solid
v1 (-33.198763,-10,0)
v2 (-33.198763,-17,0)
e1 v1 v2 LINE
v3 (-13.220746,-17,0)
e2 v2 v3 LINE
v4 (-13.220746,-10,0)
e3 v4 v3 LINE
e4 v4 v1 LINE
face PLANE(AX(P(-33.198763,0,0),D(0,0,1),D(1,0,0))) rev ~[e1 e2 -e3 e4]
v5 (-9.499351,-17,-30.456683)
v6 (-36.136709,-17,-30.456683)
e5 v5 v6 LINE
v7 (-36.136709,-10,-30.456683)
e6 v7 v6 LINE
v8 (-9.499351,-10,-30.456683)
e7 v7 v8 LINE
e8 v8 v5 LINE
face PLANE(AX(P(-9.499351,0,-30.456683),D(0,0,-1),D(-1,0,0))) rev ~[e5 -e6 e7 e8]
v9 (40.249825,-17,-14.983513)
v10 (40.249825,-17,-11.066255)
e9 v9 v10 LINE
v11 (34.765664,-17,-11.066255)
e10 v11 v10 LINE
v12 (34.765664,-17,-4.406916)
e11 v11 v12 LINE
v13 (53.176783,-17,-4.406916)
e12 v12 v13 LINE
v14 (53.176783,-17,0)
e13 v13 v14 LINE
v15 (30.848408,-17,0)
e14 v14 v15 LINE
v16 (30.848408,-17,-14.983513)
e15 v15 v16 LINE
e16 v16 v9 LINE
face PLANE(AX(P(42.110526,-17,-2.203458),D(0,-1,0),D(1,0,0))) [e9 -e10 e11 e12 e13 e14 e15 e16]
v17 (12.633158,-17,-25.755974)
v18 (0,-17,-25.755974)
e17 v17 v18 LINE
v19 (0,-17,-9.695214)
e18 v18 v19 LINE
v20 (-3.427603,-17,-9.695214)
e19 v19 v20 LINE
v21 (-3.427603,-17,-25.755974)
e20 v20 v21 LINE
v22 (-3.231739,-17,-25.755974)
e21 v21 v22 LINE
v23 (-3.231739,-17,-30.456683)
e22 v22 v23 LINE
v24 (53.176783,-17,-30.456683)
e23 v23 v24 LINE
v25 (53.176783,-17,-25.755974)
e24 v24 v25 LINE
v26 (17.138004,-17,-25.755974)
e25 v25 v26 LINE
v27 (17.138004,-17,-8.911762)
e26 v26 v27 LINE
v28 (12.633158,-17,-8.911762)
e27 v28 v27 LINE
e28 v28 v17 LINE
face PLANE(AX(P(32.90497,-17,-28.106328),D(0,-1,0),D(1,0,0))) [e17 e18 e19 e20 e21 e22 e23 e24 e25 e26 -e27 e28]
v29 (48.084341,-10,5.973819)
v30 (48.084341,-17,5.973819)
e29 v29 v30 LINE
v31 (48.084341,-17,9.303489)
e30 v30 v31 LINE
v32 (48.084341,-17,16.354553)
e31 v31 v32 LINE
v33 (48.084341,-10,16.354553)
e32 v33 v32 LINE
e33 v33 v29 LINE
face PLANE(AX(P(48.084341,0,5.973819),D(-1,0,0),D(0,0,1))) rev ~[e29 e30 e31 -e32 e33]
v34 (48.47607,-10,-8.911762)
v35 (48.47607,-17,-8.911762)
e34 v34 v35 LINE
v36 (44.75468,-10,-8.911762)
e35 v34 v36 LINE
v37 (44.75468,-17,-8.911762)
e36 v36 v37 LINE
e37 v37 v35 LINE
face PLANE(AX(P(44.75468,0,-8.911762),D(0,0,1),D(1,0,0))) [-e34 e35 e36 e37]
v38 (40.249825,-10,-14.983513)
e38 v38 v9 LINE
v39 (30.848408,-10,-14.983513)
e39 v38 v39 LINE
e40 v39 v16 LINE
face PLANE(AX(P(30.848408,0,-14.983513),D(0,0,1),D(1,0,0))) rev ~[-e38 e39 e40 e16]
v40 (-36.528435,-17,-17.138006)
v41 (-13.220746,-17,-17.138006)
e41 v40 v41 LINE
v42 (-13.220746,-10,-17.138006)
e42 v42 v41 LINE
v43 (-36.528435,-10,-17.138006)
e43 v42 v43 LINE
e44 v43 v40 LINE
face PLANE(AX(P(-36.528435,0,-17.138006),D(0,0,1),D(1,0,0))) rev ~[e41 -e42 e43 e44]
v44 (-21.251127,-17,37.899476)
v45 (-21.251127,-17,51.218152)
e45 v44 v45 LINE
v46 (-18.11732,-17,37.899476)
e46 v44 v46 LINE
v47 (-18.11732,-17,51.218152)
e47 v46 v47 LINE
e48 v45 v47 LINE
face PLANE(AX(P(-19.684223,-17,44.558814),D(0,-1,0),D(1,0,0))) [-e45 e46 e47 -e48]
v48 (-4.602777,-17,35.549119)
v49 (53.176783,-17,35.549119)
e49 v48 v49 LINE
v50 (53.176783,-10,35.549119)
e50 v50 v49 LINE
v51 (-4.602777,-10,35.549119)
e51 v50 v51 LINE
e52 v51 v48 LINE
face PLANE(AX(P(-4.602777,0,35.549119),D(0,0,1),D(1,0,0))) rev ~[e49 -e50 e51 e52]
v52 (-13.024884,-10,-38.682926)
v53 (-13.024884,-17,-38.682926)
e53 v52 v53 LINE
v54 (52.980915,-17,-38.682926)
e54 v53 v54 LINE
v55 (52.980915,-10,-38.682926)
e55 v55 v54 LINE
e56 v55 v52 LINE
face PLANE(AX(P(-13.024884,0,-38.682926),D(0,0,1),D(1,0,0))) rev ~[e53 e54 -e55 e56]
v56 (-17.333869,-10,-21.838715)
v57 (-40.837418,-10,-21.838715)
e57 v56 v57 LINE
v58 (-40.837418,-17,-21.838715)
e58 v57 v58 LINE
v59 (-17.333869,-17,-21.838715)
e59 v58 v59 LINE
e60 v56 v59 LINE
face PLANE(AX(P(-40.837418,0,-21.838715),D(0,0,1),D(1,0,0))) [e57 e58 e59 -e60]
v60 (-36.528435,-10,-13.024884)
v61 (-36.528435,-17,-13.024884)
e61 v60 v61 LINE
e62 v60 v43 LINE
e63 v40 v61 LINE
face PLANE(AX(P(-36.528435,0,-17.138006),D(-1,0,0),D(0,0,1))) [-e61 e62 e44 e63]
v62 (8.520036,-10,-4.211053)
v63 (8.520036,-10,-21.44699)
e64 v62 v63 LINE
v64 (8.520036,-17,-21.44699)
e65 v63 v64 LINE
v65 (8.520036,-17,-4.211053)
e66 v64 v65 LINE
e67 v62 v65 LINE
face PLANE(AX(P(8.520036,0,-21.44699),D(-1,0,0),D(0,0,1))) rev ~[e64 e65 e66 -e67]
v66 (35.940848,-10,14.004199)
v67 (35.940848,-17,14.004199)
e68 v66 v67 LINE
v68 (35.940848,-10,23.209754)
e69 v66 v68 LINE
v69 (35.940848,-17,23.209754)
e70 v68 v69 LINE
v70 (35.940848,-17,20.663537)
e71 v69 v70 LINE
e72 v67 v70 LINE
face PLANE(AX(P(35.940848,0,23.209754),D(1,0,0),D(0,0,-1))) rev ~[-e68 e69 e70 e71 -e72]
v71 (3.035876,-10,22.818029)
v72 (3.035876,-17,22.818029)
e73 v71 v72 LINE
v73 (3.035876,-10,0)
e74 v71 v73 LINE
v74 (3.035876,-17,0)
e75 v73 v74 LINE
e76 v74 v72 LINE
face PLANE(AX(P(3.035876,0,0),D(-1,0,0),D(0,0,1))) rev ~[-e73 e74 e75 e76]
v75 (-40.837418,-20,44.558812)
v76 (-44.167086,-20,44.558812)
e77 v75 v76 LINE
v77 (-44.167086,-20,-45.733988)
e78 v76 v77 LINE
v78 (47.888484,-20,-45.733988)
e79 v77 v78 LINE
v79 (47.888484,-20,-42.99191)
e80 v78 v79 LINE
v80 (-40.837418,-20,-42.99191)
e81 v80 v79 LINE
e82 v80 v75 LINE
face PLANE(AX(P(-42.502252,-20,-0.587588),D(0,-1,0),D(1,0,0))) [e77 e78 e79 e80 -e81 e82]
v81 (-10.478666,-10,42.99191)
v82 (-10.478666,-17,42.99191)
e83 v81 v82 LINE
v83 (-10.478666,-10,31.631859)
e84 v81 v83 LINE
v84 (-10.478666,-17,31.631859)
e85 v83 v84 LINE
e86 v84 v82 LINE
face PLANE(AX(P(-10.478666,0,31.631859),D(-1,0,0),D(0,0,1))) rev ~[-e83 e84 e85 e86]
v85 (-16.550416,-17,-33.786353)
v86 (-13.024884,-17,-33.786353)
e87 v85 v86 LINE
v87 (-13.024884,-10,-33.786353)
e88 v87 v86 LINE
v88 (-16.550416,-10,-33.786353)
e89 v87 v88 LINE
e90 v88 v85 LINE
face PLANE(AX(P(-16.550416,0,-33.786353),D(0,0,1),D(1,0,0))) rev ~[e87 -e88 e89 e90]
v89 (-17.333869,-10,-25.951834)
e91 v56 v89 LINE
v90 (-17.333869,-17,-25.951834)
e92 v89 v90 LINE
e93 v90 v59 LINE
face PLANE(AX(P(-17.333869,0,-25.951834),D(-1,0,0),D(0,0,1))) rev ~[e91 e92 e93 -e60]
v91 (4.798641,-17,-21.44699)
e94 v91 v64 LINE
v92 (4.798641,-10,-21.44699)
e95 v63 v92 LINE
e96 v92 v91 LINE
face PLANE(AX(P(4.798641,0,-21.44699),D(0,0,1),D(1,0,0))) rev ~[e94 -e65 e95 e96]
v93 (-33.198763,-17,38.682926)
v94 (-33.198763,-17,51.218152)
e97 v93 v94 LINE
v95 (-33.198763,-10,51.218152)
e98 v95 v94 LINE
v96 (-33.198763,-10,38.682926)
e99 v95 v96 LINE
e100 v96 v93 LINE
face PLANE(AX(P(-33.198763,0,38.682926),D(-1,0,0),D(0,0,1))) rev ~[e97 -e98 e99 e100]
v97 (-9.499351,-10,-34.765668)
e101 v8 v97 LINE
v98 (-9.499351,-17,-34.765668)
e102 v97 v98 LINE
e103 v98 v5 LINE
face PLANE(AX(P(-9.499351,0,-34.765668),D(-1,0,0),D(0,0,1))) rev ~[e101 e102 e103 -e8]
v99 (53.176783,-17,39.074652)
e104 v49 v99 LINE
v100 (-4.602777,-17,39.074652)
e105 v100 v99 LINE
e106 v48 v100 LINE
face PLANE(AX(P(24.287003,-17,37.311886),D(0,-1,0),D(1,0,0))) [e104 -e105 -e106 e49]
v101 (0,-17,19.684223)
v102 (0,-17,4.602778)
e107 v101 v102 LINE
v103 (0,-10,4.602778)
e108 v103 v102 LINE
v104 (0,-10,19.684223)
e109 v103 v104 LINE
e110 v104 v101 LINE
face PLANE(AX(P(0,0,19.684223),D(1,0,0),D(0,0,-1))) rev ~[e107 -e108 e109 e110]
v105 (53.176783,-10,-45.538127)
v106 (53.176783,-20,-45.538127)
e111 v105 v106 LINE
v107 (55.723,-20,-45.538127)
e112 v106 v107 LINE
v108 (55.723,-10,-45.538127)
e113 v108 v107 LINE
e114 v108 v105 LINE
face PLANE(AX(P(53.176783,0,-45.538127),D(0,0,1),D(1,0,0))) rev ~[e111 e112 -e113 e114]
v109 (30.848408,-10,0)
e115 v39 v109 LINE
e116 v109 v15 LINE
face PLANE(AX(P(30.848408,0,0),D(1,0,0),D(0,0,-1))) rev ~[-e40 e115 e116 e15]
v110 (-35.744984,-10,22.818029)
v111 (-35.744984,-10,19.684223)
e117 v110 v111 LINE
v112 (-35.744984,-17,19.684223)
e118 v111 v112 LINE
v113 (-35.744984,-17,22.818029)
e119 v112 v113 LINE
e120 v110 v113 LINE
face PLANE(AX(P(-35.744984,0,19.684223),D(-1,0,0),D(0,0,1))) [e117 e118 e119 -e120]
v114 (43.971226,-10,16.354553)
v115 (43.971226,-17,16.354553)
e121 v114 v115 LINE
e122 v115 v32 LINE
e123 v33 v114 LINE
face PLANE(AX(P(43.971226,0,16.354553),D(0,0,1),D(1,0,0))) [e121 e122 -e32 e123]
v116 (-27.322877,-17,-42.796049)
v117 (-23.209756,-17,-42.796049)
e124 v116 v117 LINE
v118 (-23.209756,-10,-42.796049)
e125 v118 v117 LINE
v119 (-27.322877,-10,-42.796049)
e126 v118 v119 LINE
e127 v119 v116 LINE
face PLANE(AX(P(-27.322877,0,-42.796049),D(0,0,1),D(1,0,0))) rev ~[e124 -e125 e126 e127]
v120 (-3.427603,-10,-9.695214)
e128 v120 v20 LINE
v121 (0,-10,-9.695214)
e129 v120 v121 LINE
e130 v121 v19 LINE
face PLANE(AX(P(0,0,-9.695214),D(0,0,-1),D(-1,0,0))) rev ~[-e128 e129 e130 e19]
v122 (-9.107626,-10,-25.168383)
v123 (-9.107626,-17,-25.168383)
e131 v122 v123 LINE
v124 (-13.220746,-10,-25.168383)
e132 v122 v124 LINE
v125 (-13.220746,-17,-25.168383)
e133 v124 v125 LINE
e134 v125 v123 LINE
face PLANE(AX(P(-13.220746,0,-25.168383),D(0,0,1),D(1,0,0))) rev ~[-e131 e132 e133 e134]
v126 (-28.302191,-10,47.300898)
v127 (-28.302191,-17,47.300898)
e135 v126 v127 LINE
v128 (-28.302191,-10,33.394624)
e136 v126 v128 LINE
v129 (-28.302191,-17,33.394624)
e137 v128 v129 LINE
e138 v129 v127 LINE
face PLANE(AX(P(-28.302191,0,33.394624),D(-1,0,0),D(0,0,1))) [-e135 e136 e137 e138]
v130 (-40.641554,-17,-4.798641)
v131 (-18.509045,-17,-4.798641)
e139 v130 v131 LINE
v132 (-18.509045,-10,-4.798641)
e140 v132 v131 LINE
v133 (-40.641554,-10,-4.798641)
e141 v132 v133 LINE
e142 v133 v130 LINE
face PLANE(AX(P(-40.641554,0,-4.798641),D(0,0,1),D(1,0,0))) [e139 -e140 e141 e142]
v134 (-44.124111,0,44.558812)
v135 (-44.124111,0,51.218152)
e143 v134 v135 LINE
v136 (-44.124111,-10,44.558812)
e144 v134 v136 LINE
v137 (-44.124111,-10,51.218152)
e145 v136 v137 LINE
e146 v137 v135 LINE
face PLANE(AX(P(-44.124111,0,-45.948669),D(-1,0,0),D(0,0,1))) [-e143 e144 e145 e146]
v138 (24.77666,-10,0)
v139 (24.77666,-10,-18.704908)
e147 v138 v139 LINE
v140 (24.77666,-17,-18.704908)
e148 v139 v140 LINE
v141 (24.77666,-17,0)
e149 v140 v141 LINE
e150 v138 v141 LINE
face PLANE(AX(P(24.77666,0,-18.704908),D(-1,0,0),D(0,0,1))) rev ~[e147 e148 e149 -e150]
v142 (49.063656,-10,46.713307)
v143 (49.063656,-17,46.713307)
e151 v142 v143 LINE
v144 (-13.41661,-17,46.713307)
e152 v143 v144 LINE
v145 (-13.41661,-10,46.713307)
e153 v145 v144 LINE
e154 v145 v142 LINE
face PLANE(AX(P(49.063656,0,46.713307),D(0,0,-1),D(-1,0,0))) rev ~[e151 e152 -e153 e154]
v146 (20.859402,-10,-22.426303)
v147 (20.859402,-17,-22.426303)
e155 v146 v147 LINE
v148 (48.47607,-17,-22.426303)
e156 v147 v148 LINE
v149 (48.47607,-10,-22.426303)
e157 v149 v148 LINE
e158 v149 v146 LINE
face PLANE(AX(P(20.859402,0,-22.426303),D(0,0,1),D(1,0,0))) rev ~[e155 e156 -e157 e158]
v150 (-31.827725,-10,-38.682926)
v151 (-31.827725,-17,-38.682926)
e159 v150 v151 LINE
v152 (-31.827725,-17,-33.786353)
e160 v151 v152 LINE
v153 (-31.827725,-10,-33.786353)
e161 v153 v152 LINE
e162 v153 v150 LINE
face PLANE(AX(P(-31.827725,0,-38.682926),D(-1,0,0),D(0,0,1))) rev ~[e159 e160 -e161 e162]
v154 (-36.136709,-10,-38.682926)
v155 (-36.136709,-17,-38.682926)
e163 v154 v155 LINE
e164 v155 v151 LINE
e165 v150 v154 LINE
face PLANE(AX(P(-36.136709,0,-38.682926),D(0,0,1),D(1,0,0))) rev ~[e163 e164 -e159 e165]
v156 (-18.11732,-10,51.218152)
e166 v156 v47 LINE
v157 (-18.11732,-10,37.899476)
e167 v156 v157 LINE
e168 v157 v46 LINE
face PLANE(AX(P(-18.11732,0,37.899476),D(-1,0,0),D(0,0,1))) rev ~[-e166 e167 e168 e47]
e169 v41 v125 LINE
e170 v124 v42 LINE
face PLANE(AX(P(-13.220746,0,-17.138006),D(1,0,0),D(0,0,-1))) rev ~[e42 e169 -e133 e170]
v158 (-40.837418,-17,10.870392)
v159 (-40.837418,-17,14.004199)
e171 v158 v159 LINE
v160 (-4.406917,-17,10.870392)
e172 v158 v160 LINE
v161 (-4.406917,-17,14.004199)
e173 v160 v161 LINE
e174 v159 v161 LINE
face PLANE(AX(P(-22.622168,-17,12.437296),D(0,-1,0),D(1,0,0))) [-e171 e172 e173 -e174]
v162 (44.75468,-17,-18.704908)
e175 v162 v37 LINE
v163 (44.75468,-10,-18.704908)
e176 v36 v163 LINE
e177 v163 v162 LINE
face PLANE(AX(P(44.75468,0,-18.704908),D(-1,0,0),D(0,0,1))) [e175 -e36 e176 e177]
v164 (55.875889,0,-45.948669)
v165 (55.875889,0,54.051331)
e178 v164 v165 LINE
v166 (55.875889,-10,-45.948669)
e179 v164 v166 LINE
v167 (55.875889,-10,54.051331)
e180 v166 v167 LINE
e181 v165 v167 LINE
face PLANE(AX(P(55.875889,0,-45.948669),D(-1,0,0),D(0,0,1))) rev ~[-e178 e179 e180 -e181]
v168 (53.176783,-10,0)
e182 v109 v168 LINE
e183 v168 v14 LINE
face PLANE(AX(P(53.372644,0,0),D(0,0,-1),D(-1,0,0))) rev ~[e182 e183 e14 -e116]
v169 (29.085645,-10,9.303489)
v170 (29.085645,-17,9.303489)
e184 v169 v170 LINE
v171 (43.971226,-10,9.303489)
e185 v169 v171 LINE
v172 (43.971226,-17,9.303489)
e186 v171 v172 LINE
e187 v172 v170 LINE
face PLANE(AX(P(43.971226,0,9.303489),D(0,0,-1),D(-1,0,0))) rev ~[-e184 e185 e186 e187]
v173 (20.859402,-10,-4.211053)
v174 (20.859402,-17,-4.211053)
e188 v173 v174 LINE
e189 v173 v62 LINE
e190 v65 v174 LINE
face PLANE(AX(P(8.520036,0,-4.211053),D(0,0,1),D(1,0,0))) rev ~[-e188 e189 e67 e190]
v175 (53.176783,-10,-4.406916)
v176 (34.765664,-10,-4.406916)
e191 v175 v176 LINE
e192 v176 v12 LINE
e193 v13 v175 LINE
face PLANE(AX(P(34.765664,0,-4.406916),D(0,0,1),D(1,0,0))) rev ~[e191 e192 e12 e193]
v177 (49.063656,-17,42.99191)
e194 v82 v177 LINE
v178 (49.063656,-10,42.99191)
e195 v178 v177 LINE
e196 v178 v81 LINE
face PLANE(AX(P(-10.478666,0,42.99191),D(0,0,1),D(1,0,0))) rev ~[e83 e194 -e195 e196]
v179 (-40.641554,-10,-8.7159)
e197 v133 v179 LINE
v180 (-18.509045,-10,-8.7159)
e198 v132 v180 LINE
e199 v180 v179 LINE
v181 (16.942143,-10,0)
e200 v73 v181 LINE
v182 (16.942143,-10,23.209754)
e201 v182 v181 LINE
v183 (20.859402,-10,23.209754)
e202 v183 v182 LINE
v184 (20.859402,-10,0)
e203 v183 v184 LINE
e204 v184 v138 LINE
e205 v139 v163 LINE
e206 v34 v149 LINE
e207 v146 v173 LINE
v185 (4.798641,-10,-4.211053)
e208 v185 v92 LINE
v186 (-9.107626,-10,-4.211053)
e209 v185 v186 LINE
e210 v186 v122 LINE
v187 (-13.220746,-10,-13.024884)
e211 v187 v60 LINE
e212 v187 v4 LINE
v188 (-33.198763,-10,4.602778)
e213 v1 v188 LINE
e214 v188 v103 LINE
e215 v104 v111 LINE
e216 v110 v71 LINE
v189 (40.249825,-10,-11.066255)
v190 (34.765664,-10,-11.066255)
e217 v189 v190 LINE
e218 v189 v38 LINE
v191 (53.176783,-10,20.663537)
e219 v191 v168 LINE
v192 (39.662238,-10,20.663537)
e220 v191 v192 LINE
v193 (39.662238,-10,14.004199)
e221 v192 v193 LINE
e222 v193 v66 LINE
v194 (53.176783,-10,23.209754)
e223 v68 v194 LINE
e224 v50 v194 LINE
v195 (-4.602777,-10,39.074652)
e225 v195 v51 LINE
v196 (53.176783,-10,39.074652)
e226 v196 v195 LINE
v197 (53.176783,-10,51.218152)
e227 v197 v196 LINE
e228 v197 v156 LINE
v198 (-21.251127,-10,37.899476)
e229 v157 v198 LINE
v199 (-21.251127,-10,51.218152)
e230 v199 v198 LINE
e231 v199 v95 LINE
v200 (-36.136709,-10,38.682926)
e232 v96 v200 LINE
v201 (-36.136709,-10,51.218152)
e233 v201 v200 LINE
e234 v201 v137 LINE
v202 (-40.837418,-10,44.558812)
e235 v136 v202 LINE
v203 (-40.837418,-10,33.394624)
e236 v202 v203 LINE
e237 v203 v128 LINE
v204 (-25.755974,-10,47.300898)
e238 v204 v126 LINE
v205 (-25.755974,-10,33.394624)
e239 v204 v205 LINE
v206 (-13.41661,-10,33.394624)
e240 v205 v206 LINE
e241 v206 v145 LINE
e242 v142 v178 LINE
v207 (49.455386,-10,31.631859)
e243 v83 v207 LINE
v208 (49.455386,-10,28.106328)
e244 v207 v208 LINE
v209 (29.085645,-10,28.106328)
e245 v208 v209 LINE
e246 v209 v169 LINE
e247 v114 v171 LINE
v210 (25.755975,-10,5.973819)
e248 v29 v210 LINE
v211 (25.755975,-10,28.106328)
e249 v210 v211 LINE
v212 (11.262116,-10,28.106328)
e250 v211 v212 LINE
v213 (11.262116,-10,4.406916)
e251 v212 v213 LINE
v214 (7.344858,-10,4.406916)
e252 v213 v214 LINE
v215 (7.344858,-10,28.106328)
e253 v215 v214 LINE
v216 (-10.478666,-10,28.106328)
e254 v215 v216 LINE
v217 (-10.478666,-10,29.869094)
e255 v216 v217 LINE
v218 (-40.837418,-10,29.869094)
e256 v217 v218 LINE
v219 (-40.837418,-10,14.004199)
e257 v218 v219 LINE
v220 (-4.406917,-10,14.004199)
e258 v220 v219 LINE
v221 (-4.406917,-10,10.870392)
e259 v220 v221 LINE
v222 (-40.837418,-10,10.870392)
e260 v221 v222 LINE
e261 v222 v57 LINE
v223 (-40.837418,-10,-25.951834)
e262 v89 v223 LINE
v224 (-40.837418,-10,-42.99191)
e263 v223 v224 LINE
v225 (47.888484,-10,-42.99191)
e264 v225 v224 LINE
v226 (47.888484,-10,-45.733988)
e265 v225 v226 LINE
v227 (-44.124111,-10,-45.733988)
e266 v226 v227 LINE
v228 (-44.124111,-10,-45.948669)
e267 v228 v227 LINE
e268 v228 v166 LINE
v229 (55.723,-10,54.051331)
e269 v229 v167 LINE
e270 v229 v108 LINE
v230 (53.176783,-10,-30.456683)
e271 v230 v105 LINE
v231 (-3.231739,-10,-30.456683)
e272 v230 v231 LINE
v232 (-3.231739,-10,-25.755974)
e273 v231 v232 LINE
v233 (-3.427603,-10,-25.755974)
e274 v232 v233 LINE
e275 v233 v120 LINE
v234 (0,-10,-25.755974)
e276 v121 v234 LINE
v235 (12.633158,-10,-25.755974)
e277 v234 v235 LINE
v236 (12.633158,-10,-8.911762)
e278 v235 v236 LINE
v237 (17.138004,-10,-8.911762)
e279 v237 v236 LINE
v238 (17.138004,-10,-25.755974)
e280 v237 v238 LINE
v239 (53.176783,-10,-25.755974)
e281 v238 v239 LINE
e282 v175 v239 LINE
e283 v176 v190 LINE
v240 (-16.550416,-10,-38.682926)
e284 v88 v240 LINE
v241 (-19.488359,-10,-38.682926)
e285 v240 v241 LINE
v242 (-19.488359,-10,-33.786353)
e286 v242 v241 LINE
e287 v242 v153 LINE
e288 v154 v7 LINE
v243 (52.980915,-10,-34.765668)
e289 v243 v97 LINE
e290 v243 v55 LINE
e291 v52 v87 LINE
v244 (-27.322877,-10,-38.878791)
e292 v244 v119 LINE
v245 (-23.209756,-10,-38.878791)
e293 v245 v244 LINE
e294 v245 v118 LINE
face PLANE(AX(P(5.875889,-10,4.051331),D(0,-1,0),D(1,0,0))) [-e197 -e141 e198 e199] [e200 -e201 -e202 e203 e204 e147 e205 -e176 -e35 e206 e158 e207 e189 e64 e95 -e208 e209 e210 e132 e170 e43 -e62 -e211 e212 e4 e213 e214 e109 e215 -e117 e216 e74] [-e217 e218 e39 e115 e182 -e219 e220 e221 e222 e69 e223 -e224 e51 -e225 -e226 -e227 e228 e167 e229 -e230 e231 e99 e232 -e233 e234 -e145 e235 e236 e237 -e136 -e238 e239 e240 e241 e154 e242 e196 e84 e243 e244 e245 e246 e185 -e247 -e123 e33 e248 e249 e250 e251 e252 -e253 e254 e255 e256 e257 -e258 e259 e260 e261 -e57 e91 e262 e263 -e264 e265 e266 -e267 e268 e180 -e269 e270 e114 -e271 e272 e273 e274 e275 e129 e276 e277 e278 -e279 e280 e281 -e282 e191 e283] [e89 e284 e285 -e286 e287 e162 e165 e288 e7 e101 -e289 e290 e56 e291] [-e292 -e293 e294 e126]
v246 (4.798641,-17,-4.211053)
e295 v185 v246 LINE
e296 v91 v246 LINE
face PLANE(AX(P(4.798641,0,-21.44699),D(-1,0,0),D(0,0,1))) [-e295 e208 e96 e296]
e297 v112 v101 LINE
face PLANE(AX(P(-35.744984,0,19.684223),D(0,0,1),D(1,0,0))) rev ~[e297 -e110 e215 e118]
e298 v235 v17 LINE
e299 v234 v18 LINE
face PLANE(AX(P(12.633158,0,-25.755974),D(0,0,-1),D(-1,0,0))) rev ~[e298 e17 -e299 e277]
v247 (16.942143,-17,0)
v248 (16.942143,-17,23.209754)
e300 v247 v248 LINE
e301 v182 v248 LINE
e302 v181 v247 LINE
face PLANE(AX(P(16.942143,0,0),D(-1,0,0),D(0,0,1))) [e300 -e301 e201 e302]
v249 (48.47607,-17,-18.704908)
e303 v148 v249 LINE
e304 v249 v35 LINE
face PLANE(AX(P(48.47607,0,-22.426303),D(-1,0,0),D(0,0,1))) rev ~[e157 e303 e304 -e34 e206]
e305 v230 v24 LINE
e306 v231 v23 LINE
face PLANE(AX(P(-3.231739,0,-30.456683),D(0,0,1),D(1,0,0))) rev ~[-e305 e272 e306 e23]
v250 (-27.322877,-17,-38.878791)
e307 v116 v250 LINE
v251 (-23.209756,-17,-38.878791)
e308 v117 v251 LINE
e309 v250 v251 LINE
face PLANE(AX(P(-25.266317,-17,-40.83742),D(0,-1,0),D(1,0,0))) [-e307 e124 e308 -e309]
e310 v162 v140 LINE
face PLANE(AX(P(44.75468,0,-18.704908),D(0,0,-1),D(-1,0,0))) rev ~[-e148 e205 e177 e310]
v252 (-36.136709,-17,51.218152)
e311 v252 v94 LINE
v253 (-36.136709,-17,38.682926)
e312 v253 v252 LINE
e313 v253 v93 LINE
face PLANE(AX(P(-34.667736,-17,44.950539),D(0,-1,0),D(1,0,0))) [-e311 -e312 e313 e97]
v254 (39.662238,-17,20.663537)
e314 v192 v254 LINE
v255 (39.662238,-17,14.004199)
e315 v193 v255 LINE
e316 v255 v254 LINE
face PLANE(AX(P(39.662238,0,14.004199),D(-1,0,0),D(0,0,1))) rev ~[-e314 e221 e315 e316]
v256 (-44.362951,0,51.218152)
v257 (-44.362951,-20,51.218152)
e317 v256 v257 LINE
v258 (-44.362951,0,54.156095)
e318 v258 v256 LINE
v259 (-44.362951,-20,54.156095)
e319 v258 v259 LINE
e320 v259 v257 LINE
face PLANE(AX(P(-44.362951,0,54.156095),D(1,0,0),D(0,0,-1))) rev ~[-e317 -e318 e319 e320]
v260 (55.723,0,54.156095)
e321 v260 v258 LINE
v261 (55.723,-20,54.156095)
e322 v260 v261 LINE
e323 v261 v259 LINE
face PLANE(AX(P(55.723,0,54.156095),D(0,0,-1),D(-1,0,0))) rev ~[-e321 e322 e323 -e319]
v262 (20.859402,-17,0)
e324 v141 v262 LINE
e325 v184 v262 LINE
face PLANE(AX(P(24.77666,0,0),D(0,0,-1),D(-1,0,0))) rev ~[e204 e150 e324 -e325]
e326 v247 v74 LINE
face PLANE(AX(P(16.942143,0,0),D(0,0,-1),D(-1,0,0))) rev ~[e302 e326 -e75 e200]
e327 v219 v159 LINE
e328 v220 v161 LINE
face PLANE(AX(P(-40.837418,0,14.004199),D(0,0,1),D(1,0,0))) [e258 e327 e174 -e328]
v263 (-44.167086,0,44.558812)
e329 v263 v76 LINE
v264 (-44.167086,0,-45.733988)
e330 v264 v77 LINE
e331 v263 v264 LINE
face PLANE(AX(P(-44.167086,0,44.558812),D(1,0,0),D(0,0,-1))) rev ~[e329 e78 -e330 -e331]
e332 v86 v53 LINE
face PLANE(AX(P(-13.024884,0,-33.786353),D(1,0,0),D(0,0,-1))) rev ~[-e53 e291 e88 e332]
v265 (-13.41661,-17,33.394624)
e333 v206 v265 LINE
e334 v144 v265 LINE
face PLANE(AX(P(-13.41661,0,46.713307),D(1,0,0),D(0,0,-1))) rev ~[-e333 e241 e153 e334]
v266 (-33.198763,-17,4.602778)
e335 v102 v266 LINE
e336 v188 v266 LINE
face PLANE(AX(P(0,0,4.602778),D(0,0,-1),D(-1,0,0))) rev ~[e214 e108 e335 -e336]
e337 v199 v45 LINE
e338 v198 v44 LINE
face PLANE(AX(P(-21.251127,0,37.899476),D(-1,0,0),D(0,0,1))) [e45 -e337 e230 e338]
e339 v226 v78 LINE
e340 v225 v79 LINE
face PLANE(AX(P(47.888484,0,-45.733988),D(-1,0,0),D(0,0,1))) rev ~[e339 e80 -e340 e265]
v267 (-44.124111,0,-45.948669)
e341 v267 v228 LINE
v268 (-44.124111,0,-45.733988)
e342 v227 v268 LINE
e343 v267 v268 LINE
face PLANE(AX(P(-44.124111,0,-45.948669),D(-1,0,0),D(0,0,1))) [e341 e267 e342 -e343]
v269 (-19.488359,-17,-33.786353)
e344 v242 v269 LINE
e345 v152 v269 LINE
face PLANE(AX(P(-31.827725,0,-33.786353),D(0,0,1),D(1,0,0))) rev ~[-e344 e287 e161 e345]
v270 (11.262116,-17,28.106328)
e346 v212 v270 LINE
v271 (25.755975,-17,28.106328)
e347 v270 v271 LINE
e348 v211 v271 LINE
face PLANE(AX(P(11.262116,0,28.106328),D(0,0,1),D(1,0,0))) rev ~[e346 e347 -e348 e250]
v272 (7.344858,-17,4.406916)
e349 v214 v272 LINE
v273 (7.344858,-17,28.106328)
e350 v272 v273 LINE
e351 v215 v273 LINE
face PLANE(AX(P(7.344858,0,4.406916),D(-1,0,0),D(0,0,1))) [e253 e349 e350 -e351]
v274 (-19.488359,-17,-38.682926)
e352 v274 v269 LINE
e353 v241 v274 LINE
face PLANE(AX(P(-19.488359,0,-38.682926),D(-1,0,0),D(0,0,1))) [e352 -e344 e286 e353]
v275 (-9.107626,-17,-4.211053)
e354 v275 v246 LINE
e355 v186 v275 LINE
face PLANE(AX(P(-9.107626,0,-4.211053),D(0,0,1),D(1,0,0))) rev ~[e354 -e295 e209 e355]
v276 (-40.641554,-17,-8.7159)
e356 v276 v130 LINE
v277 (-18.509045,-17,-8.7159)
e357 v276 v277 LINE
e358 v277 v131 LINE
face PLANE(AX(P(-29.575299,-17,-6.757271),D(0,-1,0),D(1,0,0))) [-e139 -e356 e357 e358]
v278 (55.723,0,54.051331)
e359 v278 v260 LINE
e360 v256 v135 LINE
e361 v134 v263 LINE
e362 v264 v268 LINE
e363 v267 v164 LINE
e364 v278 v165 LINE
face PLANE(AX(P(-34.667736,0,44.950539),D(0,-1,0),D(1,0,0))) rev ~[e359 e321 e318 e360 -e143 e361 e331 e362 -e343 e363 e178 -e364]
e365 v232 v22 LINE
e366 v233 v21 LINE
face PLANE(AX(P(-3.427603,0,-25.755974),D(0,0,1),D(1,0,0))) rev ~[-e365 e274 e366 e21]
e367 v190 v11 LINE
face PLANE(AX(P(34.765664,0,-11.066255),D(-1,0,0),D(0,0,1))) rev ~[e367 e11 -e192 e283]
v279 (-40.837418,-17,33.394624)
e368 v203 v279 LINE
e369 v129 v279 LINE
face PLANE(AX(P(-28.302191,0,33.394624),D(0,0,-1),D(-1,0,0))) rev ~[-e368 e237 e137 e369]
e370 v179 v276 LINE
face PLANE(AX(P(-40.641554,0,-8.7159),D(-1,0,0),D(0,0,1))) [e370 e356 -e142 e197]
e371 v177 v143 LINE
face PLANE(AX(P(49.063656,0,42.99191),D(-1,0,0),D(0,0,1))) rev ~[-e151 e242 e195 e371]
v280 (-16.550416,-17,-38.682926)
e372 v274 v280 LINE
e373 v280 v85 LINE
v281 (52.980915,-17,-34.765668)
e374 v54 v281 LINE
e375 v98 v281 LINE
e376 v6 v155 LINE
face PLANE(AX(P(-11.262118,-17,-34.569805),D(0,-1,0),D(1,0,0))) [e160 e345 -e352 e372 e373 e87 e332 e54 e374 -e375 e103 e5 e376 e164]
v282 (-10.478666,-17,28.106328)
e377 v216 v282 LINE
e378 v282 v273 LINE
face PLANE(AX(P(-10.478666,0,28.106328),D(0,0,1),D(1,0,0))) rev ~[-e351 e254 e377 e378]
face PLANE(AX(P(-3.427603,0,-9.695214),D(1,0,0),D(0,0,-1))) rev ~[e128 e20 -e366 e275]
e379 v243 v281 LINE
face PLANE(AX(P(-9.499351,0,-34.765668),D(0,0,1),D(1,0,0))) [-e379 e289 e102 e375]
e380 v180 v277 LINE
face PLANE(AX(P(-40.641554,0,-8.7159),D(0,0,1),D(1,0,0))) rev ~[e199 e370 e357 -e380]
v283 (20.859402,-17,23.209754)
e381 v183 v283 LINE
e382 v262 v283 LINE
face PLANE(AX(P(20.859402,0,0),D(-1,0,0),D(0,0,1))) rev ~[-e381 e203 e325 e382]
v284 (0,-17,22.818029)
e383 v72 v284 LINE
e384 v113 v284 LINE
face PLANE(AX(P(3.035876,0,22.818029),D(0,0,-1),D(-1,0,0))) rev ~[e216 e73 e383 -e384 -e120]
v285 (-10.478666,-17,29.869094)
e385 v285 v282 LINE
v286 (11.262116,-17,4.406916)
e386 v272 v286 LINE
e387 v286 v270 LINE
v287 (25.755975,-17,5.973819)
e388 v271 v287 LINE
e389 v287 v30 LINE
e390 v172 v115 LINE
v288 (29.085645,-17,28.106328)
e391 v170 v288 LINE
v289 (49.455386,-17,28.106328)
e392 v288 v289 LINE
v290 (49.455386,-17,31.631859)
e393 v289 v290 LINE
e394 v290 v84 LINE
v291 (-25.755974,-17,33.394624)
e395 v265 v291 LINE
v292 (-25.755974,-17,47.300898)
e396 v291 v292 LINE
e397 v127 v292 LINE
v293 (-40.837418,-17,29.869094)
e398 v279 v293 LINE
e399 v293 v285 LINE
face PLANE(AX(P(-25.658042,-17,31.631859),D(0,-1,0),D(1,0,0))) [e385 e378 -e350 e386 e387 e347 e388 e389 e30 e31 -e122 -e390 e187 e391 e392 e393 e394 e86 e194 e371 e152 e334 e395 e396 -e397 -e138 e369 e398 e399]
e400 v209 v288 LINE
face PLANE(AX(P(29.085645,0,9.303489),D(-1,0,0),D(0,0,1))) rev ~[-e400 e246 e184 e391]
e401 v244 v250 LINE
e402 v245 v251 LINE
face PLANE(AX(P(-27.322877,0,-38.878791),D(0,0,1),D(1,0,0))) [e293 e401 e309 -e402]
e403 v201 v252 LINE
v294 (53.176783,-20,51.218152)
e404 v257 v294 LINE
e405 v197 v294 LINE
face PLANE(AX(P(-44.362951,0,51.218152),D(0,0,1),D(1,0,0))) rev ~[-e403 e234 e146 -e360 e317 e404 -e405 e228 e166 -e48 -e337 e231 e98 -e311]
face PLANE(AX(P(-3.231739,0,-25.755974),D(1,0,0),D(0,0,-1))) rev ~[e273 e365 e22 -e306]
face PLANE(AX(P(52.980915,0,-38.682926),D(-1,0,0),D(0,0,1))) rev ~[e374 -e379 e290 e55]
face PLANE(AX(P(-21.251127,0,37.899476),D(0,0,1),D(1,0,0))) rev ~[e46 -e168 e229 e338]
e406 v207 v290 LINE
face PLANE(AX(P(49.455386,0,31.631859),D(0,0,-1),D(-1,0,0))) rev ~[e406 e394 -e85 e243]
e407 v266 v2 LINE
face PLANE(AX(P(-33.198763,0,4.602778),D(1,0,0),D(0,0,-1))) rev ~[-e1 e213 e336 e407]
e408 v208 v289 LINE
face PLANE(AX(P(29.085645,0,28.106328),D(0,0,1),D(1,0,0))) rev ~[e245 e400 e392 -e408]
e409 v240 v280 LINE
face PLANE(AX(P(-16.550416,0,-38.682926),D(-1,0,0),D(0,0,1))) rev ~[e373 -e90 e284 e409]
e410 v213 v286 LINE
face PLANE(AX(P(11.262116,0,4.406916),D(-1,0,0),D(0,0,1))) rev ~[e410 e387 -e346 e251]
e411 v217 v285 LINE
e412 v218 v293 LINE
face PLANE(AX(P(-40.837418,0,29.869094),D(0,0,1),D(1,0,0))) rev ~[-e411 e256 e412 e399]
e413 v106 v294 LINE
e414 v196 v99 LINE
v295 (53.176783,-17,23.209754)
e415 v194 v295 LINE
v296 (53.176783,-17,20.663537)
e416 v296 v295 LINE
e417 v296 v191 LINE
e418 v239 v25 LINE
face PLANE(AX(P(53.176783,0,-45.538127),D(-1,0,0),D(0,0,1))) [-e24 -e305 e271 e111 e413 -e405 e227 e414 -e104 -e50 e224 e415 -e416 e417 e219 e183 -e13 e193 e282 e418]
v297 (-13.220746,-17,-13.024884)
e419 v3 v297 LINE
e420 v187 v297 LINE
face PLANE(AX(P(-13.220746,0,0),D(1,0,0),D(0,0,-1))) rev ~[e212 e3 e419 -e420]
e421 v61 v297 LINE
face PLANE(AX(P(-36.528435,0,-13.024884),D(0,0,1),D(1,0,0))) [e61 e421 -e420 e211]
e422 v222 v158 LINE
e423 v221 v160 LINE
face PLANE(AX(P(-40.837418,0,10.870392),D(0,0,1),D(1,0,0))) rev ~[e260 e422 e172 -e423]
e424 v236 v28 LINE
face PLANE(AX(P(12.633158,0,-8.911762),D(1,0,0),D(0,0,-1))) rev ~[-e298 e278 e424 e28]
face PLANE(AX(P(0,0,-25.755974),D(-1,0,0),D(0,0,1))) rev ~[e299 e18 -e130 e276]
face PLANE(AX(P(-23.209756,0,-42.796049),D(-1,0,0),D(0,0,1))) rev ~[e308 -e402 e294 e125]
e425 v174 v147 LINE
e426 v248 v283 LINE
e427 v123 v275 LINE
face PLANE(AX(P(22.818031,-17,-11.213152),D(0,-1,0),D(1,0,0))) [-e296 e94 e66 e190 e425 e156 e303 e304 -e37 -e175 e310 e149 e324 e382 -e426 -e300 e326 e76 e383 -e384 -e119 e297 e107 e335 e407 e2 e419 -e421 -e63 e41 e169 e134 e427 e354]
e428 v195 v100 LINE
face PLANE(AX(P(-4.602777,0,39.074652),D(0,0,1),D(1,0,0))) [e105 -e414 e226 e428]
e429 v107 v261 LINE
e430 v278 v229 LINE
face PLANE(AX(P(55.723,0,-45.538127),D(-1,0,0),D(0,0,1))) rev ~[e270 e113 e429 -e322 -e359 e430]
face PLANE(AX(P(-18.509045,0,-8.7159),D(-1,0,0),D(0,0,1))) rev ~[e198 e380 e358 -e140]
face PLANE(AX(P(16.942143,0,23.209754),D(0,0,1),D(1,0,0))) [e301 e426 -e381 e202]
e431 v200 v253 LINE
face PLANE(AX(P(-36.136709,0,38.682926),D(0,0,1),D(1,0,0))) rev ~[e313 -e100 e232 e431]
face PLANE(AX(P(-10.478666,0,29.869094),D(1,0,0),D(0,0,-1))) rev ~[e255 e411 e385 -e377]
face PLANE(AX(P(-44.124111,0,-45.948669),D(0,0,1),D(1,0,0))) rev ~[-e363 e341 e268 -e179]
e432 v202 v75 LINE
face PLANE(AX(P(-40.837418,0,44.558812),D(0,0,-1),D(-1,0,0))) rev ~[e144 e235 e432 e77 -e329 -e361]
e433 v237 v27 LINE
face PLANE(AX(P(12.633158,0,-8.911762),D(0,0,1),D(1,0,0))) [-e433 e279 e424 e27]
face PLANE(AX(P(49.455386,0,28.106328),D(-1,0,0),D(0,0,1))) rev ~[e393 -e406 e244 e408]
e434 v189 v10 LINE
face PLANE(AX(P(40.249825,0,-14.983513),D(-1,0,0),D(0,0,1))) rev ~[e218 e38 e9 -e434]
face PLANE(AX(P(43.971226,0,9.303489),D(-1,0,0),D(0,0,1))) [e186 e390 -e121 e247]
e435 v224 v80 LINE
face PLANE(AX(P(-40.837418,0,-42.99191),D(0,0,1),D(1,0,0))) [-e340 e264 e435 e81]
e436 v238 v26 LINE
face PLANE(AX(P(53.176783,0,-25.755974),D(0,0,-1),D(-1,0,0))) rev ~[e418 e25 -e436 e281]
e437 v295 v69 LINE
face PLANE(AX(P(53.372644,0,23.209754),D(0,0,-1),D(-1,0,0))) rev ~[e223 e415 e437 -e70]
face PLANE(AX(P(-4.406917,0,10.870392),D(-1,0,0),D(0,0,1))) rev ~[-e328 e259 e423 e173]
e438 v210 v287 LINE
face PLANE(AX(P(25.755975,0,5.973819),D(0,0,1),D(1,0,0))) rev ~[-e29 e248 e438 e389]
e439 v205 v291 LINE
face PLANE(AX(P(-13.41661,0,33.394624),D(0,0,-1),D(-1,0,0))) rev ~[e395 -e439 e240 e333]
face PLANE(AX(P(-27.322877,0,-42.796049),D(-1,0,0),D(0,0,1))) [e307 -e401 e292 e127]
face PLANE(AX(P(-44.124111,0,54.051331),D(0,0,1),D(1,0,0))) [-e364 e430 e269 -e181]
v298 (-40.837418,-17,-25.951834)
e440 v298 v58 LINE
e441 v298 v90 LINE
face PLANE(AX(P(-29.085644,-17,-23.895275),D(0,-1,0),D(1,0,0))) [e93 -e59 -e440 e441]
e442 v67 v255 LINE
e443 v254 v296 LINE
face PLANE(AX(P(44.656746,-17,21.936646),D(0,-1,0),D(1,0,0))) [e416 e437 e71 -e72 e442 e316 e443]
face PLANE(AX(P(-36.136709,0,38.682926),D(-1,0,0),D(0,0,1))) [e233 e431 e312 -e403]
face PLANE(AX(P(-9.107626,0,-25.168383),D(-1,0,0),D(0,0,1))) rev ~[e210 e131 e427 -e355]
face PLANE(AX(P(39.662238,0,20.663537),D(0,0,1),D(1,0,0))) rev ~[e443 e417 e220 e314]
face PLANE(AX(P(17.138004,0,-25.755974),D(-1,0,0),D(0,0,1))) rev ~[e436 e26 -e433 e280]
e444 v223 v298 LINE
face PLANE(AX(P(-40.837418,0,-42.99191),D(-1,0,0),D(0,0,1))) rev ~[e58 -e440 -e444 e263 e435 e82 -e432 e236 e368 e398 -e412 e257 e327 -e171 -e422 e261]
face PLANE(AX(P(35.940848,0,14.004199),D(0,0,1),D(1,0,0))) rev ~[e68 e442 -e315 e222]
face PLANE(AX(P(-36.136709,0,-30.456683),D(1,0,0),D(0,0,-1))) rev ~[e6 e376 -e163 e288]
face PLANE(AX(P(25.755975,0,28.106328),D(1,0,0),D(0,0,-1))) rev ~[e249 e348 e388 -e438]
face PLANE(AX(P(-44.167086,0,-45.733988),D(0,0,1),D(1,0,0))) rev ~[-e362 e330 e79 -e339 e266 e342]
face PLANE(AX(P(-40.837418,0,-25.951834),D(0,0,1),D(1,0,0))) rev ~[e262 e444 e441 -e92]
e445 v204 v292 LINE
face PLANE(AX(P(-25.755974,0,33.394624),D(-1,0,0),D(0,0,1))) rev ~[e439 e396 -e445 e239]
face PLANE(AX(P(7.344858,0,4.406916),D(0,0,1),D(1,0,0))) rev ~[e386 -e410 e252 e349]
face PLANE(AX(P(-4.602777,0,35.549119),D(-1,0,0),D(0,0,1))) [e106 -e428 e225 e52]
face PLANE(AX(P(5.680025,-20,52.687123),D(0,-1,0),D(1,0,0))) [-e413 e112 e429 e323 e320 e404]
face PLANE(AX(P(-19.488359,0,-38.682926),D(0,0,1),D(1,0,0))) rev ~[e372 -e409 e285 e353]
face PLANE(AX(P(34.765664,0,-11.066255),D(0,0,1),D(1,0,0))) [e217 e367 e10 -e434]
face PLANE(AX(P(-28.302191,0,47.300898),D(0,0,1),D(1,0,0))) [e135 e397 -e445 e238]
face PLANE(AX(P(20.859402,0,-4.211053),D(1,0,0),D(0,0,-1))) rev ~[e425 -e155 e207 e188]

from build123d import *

# Parameters (mm, degrees)
F0_W     = 100
F0_H     = 100
F3_DEPTH = 10
F1_W     = 2.5462172925
F1_H     = 96.7562794685
F1_W_2   = 88.7259021401
F1_H_2   = 2.7420781553
F4_DEPTH = 20
F2_W     = 2.9379464686
F2_H     = 12.5352256
F2_W_2   = 2.5462172925
F2_H_2   = 13.9062739909
F2_W_3   = 3.9172582328
F2_H_3   = 23.699412588
F2_W_4   = 59.5423225313
F2_H_4   = 3.7213973701
F2_W_5   = 4.1131153703
F2_H_5   = 7.0510646328
F2_W_6   = 3.1338073313
F2_H_6   = 13.3186765015
F2_W_7   = 57.7795598656
F2_H_7   = 3.5255327821
F2_W_8   = 3.7213899195
F2_H_8   = 6.6593382508
F2_W_9   = 5.4841600358
F2_H_9   = 3.9172582328
F2_H_10  = 23.2097543776
F2_H_11  = 9.7931455821
F2_W_10  = 3.7213945761
F2_H_12  = 17.2359370627
F2_W_11  = 35.7449837029
F2_H_13  = 3.1338054687
F2_W_12  = 23.3076885343
F2_H_14  = 4.1131218895
F2_W_13  = 4.504846409
F2_H_15  = 16.8442111462
F2_W_14  = 62.480266206
F2_W_15  = 2.9379427433
F2_H_16  = 4.8965737224
F2_W_16  = 4.3089836836
F2_W_17  = 36.4305013791
F2_H_17  = 3.1338064
F2_W_18  = 22.1325084567
F2_W_19  = 23.503549397
F2_H_18  = 4.1131190956
F2_W_20  = 4.1131209582
F5_DEPTH = 17


with BuildPart() as f3:
    # F0 (on Front) → F3 (new body)
    with BuildSketch(Plane.XZ):
        with Locations((5.8758892119, 4.0513307203)):
            Rectangle(F0_W, F0_H)
    extrude(amount=F3_DEPTH)

    # F1 (on face) → F4 (join)
    with BuildSketch(Plane.XZ):
        Polygon((55.7230003178, 54.1560947895), (-44.3629510701, 54.1560947895), (-44.3629510701, 51.2181520462), (53.1767830253, 51.2181520462), (55.7230003178, 51.2181520462), align=None)
        with Locations((54.4498916715, 2.8400123119)):
            Rectangle(F1_W, F1_H)
        Polygon((-44.167086482, 44.5588119328), (-44.167086482, -45.7339882851), (-40.837418288, -45.7339882851), (-40.837418288, -42.9919101298), (-40.837418288, 44.5588119328), align=None)
        with Locations((3.5255327821, -44.3629492074)):
            Rectangle(F1_W_2, F1_H_2)
    extrude(amount=F4_DEPTH)

    # F2 (on face) → F5 (join)
    with BuildSketch(Plane.XZ):
        with Locations((-34.6677359194, 44.9505392462)):
            Rectangle(F2_W, F2_H)
        Polygon((-40.837418288, 33.3946235478), (-40.837418288, 29.869094491), (-10.4786660522, 29.869094491), (-10.4786660522, 31.6318590194), (-10.4786660522, 33.3946235478), (-13.4166097268, 33.3946235478), (-25.7559735328, 33.3946235478), (-28.3021908253, 33.3946235478), align=None)
        Polygon((-10.4786660522, 31.6318590194), (-10.4786660522, 29.869094491), (-10.4786660522, 28.1063281), (7.3448577896, 28.1063281), (11.2621160224, 28.1063281), (25.7559753954, 28.1063281), (29.0856454521, 28.1063281), (49.4553856552, 28.1063281), (49.4553856552, 31.6318590194), align=None)
        with Locations((-27.0290821791, 40.3477605432)):
            Rectangle(F2_W_2, F2_H_2)
        Polygon((-13.4166097268, 33.3946235478), (-10.4786660522, 33.3946235478), (-10.4786660522, 42.9919101298), (-10.4786660522, 46.7133074999), (-13.4166097268, 46.7133074999), align=None)
        with Locations((9.303486906, 16.256621806)):
            Rectangle(F2_W_3, F2_H_3)
        with Locations((19.2924952134, 44.8526088148)):
            Rectangle(F2_W_4, F2_H_4)
        Polygon((29.0856454521, 9.3034887686), (29.0856454521, 28.1063281), (25.7559753954, 28.1063281), (25.7559753954, 5.9738187119), (29.0856454521, 5.9738187119), align=None)
        Polygon((43.9712256193, 9.3034887686), (29.0856454521, 9.3034887686), (29.0856454521, 5.9738187119), (48.0843409896, 5.9738187119), (48.0843409896, 9.3034887686), align=None)
        with Locations((46.0277833045, 12.8290210851)):
            Rectangle(F2_W_5, F2_H_5)
        with Locations((-19.6842234582, 44.5588137954)):
            Rectangle(F2_W_6, F2_H_6)
        with Locations((24.2870030925, 37.3118855059)):
            Rectangle(F2_W_7, F2_H_7)
        Polygon((53.372643888, 20.6635370851), (53.372643888, 23.2097543776), (35.9408482909, 23.2097543776), (35.9408482909, 20.6635370851), (39.6622382104, 20.6635370851), align=None)
        with Locations((37.8015432507, 17.3338679597)):
            Rectangle(F2_W_8, F2_H_8)
        Polygon((53.372643888, -4.4069155119), (53.372643888, 0), (30.8484081179, 0), (30.8484081179, -4.4069155119), (34.7656644881, -4.4069155119), align=None)
        Polygon((34.7656644881, -4.4069155119), (30.8484081179, -4.4069155119), (30.8484081179, -14.9835133925), (34.7656644881, -14.9835133925), (34.7656644881, -11.0662551597), align=None)
        with Locations((37.507744506, -13.0248842761)):
            Rectangle(F2_W_9, F2_H_9)
        Polygon((24.7766599059, -18.7049079686), (24.7766599059, 0), (20.8594016731, 0), (20.8594016731, -4.2110527866), (20.8594016731, -22.4263034761), (24.7766599059, -22.4263034761), align=None)
        Polygon((20.8594016731, -4.2110527866), (20.8594016731, 0), (16.9421434402, 0), (3.0358759686, 0), (0, 0), (0, -4.2110527866), (4.7986414284, -4.2110527866), (8.5200360045, -4.2110527866), align=None)
        with Locations((18.9007725567, 11.6048771888)):
            Rectangle(F2_W_3, F2_H_10)
        Polygon((44.7546802461, -18.7049079686), (24.7766599059, -18.7049079686), (24.7766599059, -22.4263034761), (48.4760701656, -22.4263034761), (48.4760701656, -18.7049079686), align=None)
        with Locations((46.6153752059, -13.8083351776)):
            Rectangle(F2_W_8, F2_H_11)
        with Locations((6.6593387164, -12.8290213179)):
            Rectangle(F2_W_10, F2_H_12)
        Polygon((0, 0), (3.0358759686, 0), (3.0358759686, 22.8180289268), (0, 22.8180289268), (0, 19.6842234582), (0, 4.6027782373), align=None)
        Polygon((-13.2207460701, 0), (0, 0), (0, 4.6027782373), (-33.1987626851, 4.6027782373), (-33.1987626851, 0), align=None)
        Polygon((0, -4.2110527866), (0, 0), (-13.2207460701, 0), (-13.2207460701, -4.2110527866), (-9.1076260433, -4.2110527866), align=None)
        with Locations((-17.8724918514, 21.2511261925)):
            Rectangle(F2_W_11, F2_H_13)
        Polygon((-9.1076260433, -25.168383494), (-9.1076260433, -4.2110527866), (-13.2207460701, -4.2110527866), (-13.2207460701, -13.0248842761), (-13.2207460701, -17.1380061656), (-13.2207460701, -25.168383494), align=None)
        with Locations((-24.8745903373, -15.0814452209)):
            Rectangle(F2_W_12, F2_H_14)
        Polygon((53.1767830253, -30.4566826671), (53.1767830253, -25.7559735328), (17.138004303, -25.7559735328), (12.633157894, -25.7559735328), (12.633157894, -30.4566826671), align=None)
        with Locations((14.8855810985, -17.3338679597)):
            Rectangle(F2_W_13, F2_H_15)
        Polygon((12.633157894, -30.4566826671), (12.633157894, -25.7559735328), (0, -25.7559735328), (-3.2317389268, -25.7559735328), (-3.2317389268, -30.4566826671), align=None)
        Polygon((-3.2317389268, -25.7559735328), (0, -25.7559735328), (0, -9.6952142194), (-3.4276025835, -9.6952142194), (-3.4276025835, -25.7559735328), align=None)
        Polygon((-9.499351494, -30.4566826671), (-13.0248842761, -30.4566826671), (-13.0248842761, -33.7863527238), (-13.0248842761, -38.6829264462), (-9.499351494, -38.6829264462), (-9.499351494, -34.7656682134), align=None)
        Polygon((-13.0248842761, -33.7863527238), (-13.0248842761, -30.4566826671), (-36.1367091537, -30.4566826671), (-36.1367091537, -33.7863527238), (-31.8277254701, -33.7863527238), (-19.4883588701, -33.7863527238), (-16.5504161268, -33.7863527238), align=None)
        with Locations((21.740781609, -36.7242973298)):
            Rectangle(F2_W_14, F2_H_9)
        with Locations((-18.0193874985, -36.234639585)):
            Rectangle(F2_W_15, F2_H_16)
        with Locations((-33.9822173119, -36.234639585)):
            Rectangle(F2_W_16, F2_H_16)
        with Locations((-22.6221675985, 12.4372956343)):
            Rectangle(F2_W_17, F2_H_17)
        with Locations((-29.5752994716, -6.7572705448)):
            Rectangle(F2_W_18, F2_H_9)
        with Locations((-29.0856435895, -23.8952748477)):
            Rectangle(F2_W_19, F2_H_18)
        with Locations((-25.2663167194, -40.8374201506)):
            Rectangle(F2_W_20, F2_H_9)
    extrude(amount=F5_DEPTH)


solid = f3.part
